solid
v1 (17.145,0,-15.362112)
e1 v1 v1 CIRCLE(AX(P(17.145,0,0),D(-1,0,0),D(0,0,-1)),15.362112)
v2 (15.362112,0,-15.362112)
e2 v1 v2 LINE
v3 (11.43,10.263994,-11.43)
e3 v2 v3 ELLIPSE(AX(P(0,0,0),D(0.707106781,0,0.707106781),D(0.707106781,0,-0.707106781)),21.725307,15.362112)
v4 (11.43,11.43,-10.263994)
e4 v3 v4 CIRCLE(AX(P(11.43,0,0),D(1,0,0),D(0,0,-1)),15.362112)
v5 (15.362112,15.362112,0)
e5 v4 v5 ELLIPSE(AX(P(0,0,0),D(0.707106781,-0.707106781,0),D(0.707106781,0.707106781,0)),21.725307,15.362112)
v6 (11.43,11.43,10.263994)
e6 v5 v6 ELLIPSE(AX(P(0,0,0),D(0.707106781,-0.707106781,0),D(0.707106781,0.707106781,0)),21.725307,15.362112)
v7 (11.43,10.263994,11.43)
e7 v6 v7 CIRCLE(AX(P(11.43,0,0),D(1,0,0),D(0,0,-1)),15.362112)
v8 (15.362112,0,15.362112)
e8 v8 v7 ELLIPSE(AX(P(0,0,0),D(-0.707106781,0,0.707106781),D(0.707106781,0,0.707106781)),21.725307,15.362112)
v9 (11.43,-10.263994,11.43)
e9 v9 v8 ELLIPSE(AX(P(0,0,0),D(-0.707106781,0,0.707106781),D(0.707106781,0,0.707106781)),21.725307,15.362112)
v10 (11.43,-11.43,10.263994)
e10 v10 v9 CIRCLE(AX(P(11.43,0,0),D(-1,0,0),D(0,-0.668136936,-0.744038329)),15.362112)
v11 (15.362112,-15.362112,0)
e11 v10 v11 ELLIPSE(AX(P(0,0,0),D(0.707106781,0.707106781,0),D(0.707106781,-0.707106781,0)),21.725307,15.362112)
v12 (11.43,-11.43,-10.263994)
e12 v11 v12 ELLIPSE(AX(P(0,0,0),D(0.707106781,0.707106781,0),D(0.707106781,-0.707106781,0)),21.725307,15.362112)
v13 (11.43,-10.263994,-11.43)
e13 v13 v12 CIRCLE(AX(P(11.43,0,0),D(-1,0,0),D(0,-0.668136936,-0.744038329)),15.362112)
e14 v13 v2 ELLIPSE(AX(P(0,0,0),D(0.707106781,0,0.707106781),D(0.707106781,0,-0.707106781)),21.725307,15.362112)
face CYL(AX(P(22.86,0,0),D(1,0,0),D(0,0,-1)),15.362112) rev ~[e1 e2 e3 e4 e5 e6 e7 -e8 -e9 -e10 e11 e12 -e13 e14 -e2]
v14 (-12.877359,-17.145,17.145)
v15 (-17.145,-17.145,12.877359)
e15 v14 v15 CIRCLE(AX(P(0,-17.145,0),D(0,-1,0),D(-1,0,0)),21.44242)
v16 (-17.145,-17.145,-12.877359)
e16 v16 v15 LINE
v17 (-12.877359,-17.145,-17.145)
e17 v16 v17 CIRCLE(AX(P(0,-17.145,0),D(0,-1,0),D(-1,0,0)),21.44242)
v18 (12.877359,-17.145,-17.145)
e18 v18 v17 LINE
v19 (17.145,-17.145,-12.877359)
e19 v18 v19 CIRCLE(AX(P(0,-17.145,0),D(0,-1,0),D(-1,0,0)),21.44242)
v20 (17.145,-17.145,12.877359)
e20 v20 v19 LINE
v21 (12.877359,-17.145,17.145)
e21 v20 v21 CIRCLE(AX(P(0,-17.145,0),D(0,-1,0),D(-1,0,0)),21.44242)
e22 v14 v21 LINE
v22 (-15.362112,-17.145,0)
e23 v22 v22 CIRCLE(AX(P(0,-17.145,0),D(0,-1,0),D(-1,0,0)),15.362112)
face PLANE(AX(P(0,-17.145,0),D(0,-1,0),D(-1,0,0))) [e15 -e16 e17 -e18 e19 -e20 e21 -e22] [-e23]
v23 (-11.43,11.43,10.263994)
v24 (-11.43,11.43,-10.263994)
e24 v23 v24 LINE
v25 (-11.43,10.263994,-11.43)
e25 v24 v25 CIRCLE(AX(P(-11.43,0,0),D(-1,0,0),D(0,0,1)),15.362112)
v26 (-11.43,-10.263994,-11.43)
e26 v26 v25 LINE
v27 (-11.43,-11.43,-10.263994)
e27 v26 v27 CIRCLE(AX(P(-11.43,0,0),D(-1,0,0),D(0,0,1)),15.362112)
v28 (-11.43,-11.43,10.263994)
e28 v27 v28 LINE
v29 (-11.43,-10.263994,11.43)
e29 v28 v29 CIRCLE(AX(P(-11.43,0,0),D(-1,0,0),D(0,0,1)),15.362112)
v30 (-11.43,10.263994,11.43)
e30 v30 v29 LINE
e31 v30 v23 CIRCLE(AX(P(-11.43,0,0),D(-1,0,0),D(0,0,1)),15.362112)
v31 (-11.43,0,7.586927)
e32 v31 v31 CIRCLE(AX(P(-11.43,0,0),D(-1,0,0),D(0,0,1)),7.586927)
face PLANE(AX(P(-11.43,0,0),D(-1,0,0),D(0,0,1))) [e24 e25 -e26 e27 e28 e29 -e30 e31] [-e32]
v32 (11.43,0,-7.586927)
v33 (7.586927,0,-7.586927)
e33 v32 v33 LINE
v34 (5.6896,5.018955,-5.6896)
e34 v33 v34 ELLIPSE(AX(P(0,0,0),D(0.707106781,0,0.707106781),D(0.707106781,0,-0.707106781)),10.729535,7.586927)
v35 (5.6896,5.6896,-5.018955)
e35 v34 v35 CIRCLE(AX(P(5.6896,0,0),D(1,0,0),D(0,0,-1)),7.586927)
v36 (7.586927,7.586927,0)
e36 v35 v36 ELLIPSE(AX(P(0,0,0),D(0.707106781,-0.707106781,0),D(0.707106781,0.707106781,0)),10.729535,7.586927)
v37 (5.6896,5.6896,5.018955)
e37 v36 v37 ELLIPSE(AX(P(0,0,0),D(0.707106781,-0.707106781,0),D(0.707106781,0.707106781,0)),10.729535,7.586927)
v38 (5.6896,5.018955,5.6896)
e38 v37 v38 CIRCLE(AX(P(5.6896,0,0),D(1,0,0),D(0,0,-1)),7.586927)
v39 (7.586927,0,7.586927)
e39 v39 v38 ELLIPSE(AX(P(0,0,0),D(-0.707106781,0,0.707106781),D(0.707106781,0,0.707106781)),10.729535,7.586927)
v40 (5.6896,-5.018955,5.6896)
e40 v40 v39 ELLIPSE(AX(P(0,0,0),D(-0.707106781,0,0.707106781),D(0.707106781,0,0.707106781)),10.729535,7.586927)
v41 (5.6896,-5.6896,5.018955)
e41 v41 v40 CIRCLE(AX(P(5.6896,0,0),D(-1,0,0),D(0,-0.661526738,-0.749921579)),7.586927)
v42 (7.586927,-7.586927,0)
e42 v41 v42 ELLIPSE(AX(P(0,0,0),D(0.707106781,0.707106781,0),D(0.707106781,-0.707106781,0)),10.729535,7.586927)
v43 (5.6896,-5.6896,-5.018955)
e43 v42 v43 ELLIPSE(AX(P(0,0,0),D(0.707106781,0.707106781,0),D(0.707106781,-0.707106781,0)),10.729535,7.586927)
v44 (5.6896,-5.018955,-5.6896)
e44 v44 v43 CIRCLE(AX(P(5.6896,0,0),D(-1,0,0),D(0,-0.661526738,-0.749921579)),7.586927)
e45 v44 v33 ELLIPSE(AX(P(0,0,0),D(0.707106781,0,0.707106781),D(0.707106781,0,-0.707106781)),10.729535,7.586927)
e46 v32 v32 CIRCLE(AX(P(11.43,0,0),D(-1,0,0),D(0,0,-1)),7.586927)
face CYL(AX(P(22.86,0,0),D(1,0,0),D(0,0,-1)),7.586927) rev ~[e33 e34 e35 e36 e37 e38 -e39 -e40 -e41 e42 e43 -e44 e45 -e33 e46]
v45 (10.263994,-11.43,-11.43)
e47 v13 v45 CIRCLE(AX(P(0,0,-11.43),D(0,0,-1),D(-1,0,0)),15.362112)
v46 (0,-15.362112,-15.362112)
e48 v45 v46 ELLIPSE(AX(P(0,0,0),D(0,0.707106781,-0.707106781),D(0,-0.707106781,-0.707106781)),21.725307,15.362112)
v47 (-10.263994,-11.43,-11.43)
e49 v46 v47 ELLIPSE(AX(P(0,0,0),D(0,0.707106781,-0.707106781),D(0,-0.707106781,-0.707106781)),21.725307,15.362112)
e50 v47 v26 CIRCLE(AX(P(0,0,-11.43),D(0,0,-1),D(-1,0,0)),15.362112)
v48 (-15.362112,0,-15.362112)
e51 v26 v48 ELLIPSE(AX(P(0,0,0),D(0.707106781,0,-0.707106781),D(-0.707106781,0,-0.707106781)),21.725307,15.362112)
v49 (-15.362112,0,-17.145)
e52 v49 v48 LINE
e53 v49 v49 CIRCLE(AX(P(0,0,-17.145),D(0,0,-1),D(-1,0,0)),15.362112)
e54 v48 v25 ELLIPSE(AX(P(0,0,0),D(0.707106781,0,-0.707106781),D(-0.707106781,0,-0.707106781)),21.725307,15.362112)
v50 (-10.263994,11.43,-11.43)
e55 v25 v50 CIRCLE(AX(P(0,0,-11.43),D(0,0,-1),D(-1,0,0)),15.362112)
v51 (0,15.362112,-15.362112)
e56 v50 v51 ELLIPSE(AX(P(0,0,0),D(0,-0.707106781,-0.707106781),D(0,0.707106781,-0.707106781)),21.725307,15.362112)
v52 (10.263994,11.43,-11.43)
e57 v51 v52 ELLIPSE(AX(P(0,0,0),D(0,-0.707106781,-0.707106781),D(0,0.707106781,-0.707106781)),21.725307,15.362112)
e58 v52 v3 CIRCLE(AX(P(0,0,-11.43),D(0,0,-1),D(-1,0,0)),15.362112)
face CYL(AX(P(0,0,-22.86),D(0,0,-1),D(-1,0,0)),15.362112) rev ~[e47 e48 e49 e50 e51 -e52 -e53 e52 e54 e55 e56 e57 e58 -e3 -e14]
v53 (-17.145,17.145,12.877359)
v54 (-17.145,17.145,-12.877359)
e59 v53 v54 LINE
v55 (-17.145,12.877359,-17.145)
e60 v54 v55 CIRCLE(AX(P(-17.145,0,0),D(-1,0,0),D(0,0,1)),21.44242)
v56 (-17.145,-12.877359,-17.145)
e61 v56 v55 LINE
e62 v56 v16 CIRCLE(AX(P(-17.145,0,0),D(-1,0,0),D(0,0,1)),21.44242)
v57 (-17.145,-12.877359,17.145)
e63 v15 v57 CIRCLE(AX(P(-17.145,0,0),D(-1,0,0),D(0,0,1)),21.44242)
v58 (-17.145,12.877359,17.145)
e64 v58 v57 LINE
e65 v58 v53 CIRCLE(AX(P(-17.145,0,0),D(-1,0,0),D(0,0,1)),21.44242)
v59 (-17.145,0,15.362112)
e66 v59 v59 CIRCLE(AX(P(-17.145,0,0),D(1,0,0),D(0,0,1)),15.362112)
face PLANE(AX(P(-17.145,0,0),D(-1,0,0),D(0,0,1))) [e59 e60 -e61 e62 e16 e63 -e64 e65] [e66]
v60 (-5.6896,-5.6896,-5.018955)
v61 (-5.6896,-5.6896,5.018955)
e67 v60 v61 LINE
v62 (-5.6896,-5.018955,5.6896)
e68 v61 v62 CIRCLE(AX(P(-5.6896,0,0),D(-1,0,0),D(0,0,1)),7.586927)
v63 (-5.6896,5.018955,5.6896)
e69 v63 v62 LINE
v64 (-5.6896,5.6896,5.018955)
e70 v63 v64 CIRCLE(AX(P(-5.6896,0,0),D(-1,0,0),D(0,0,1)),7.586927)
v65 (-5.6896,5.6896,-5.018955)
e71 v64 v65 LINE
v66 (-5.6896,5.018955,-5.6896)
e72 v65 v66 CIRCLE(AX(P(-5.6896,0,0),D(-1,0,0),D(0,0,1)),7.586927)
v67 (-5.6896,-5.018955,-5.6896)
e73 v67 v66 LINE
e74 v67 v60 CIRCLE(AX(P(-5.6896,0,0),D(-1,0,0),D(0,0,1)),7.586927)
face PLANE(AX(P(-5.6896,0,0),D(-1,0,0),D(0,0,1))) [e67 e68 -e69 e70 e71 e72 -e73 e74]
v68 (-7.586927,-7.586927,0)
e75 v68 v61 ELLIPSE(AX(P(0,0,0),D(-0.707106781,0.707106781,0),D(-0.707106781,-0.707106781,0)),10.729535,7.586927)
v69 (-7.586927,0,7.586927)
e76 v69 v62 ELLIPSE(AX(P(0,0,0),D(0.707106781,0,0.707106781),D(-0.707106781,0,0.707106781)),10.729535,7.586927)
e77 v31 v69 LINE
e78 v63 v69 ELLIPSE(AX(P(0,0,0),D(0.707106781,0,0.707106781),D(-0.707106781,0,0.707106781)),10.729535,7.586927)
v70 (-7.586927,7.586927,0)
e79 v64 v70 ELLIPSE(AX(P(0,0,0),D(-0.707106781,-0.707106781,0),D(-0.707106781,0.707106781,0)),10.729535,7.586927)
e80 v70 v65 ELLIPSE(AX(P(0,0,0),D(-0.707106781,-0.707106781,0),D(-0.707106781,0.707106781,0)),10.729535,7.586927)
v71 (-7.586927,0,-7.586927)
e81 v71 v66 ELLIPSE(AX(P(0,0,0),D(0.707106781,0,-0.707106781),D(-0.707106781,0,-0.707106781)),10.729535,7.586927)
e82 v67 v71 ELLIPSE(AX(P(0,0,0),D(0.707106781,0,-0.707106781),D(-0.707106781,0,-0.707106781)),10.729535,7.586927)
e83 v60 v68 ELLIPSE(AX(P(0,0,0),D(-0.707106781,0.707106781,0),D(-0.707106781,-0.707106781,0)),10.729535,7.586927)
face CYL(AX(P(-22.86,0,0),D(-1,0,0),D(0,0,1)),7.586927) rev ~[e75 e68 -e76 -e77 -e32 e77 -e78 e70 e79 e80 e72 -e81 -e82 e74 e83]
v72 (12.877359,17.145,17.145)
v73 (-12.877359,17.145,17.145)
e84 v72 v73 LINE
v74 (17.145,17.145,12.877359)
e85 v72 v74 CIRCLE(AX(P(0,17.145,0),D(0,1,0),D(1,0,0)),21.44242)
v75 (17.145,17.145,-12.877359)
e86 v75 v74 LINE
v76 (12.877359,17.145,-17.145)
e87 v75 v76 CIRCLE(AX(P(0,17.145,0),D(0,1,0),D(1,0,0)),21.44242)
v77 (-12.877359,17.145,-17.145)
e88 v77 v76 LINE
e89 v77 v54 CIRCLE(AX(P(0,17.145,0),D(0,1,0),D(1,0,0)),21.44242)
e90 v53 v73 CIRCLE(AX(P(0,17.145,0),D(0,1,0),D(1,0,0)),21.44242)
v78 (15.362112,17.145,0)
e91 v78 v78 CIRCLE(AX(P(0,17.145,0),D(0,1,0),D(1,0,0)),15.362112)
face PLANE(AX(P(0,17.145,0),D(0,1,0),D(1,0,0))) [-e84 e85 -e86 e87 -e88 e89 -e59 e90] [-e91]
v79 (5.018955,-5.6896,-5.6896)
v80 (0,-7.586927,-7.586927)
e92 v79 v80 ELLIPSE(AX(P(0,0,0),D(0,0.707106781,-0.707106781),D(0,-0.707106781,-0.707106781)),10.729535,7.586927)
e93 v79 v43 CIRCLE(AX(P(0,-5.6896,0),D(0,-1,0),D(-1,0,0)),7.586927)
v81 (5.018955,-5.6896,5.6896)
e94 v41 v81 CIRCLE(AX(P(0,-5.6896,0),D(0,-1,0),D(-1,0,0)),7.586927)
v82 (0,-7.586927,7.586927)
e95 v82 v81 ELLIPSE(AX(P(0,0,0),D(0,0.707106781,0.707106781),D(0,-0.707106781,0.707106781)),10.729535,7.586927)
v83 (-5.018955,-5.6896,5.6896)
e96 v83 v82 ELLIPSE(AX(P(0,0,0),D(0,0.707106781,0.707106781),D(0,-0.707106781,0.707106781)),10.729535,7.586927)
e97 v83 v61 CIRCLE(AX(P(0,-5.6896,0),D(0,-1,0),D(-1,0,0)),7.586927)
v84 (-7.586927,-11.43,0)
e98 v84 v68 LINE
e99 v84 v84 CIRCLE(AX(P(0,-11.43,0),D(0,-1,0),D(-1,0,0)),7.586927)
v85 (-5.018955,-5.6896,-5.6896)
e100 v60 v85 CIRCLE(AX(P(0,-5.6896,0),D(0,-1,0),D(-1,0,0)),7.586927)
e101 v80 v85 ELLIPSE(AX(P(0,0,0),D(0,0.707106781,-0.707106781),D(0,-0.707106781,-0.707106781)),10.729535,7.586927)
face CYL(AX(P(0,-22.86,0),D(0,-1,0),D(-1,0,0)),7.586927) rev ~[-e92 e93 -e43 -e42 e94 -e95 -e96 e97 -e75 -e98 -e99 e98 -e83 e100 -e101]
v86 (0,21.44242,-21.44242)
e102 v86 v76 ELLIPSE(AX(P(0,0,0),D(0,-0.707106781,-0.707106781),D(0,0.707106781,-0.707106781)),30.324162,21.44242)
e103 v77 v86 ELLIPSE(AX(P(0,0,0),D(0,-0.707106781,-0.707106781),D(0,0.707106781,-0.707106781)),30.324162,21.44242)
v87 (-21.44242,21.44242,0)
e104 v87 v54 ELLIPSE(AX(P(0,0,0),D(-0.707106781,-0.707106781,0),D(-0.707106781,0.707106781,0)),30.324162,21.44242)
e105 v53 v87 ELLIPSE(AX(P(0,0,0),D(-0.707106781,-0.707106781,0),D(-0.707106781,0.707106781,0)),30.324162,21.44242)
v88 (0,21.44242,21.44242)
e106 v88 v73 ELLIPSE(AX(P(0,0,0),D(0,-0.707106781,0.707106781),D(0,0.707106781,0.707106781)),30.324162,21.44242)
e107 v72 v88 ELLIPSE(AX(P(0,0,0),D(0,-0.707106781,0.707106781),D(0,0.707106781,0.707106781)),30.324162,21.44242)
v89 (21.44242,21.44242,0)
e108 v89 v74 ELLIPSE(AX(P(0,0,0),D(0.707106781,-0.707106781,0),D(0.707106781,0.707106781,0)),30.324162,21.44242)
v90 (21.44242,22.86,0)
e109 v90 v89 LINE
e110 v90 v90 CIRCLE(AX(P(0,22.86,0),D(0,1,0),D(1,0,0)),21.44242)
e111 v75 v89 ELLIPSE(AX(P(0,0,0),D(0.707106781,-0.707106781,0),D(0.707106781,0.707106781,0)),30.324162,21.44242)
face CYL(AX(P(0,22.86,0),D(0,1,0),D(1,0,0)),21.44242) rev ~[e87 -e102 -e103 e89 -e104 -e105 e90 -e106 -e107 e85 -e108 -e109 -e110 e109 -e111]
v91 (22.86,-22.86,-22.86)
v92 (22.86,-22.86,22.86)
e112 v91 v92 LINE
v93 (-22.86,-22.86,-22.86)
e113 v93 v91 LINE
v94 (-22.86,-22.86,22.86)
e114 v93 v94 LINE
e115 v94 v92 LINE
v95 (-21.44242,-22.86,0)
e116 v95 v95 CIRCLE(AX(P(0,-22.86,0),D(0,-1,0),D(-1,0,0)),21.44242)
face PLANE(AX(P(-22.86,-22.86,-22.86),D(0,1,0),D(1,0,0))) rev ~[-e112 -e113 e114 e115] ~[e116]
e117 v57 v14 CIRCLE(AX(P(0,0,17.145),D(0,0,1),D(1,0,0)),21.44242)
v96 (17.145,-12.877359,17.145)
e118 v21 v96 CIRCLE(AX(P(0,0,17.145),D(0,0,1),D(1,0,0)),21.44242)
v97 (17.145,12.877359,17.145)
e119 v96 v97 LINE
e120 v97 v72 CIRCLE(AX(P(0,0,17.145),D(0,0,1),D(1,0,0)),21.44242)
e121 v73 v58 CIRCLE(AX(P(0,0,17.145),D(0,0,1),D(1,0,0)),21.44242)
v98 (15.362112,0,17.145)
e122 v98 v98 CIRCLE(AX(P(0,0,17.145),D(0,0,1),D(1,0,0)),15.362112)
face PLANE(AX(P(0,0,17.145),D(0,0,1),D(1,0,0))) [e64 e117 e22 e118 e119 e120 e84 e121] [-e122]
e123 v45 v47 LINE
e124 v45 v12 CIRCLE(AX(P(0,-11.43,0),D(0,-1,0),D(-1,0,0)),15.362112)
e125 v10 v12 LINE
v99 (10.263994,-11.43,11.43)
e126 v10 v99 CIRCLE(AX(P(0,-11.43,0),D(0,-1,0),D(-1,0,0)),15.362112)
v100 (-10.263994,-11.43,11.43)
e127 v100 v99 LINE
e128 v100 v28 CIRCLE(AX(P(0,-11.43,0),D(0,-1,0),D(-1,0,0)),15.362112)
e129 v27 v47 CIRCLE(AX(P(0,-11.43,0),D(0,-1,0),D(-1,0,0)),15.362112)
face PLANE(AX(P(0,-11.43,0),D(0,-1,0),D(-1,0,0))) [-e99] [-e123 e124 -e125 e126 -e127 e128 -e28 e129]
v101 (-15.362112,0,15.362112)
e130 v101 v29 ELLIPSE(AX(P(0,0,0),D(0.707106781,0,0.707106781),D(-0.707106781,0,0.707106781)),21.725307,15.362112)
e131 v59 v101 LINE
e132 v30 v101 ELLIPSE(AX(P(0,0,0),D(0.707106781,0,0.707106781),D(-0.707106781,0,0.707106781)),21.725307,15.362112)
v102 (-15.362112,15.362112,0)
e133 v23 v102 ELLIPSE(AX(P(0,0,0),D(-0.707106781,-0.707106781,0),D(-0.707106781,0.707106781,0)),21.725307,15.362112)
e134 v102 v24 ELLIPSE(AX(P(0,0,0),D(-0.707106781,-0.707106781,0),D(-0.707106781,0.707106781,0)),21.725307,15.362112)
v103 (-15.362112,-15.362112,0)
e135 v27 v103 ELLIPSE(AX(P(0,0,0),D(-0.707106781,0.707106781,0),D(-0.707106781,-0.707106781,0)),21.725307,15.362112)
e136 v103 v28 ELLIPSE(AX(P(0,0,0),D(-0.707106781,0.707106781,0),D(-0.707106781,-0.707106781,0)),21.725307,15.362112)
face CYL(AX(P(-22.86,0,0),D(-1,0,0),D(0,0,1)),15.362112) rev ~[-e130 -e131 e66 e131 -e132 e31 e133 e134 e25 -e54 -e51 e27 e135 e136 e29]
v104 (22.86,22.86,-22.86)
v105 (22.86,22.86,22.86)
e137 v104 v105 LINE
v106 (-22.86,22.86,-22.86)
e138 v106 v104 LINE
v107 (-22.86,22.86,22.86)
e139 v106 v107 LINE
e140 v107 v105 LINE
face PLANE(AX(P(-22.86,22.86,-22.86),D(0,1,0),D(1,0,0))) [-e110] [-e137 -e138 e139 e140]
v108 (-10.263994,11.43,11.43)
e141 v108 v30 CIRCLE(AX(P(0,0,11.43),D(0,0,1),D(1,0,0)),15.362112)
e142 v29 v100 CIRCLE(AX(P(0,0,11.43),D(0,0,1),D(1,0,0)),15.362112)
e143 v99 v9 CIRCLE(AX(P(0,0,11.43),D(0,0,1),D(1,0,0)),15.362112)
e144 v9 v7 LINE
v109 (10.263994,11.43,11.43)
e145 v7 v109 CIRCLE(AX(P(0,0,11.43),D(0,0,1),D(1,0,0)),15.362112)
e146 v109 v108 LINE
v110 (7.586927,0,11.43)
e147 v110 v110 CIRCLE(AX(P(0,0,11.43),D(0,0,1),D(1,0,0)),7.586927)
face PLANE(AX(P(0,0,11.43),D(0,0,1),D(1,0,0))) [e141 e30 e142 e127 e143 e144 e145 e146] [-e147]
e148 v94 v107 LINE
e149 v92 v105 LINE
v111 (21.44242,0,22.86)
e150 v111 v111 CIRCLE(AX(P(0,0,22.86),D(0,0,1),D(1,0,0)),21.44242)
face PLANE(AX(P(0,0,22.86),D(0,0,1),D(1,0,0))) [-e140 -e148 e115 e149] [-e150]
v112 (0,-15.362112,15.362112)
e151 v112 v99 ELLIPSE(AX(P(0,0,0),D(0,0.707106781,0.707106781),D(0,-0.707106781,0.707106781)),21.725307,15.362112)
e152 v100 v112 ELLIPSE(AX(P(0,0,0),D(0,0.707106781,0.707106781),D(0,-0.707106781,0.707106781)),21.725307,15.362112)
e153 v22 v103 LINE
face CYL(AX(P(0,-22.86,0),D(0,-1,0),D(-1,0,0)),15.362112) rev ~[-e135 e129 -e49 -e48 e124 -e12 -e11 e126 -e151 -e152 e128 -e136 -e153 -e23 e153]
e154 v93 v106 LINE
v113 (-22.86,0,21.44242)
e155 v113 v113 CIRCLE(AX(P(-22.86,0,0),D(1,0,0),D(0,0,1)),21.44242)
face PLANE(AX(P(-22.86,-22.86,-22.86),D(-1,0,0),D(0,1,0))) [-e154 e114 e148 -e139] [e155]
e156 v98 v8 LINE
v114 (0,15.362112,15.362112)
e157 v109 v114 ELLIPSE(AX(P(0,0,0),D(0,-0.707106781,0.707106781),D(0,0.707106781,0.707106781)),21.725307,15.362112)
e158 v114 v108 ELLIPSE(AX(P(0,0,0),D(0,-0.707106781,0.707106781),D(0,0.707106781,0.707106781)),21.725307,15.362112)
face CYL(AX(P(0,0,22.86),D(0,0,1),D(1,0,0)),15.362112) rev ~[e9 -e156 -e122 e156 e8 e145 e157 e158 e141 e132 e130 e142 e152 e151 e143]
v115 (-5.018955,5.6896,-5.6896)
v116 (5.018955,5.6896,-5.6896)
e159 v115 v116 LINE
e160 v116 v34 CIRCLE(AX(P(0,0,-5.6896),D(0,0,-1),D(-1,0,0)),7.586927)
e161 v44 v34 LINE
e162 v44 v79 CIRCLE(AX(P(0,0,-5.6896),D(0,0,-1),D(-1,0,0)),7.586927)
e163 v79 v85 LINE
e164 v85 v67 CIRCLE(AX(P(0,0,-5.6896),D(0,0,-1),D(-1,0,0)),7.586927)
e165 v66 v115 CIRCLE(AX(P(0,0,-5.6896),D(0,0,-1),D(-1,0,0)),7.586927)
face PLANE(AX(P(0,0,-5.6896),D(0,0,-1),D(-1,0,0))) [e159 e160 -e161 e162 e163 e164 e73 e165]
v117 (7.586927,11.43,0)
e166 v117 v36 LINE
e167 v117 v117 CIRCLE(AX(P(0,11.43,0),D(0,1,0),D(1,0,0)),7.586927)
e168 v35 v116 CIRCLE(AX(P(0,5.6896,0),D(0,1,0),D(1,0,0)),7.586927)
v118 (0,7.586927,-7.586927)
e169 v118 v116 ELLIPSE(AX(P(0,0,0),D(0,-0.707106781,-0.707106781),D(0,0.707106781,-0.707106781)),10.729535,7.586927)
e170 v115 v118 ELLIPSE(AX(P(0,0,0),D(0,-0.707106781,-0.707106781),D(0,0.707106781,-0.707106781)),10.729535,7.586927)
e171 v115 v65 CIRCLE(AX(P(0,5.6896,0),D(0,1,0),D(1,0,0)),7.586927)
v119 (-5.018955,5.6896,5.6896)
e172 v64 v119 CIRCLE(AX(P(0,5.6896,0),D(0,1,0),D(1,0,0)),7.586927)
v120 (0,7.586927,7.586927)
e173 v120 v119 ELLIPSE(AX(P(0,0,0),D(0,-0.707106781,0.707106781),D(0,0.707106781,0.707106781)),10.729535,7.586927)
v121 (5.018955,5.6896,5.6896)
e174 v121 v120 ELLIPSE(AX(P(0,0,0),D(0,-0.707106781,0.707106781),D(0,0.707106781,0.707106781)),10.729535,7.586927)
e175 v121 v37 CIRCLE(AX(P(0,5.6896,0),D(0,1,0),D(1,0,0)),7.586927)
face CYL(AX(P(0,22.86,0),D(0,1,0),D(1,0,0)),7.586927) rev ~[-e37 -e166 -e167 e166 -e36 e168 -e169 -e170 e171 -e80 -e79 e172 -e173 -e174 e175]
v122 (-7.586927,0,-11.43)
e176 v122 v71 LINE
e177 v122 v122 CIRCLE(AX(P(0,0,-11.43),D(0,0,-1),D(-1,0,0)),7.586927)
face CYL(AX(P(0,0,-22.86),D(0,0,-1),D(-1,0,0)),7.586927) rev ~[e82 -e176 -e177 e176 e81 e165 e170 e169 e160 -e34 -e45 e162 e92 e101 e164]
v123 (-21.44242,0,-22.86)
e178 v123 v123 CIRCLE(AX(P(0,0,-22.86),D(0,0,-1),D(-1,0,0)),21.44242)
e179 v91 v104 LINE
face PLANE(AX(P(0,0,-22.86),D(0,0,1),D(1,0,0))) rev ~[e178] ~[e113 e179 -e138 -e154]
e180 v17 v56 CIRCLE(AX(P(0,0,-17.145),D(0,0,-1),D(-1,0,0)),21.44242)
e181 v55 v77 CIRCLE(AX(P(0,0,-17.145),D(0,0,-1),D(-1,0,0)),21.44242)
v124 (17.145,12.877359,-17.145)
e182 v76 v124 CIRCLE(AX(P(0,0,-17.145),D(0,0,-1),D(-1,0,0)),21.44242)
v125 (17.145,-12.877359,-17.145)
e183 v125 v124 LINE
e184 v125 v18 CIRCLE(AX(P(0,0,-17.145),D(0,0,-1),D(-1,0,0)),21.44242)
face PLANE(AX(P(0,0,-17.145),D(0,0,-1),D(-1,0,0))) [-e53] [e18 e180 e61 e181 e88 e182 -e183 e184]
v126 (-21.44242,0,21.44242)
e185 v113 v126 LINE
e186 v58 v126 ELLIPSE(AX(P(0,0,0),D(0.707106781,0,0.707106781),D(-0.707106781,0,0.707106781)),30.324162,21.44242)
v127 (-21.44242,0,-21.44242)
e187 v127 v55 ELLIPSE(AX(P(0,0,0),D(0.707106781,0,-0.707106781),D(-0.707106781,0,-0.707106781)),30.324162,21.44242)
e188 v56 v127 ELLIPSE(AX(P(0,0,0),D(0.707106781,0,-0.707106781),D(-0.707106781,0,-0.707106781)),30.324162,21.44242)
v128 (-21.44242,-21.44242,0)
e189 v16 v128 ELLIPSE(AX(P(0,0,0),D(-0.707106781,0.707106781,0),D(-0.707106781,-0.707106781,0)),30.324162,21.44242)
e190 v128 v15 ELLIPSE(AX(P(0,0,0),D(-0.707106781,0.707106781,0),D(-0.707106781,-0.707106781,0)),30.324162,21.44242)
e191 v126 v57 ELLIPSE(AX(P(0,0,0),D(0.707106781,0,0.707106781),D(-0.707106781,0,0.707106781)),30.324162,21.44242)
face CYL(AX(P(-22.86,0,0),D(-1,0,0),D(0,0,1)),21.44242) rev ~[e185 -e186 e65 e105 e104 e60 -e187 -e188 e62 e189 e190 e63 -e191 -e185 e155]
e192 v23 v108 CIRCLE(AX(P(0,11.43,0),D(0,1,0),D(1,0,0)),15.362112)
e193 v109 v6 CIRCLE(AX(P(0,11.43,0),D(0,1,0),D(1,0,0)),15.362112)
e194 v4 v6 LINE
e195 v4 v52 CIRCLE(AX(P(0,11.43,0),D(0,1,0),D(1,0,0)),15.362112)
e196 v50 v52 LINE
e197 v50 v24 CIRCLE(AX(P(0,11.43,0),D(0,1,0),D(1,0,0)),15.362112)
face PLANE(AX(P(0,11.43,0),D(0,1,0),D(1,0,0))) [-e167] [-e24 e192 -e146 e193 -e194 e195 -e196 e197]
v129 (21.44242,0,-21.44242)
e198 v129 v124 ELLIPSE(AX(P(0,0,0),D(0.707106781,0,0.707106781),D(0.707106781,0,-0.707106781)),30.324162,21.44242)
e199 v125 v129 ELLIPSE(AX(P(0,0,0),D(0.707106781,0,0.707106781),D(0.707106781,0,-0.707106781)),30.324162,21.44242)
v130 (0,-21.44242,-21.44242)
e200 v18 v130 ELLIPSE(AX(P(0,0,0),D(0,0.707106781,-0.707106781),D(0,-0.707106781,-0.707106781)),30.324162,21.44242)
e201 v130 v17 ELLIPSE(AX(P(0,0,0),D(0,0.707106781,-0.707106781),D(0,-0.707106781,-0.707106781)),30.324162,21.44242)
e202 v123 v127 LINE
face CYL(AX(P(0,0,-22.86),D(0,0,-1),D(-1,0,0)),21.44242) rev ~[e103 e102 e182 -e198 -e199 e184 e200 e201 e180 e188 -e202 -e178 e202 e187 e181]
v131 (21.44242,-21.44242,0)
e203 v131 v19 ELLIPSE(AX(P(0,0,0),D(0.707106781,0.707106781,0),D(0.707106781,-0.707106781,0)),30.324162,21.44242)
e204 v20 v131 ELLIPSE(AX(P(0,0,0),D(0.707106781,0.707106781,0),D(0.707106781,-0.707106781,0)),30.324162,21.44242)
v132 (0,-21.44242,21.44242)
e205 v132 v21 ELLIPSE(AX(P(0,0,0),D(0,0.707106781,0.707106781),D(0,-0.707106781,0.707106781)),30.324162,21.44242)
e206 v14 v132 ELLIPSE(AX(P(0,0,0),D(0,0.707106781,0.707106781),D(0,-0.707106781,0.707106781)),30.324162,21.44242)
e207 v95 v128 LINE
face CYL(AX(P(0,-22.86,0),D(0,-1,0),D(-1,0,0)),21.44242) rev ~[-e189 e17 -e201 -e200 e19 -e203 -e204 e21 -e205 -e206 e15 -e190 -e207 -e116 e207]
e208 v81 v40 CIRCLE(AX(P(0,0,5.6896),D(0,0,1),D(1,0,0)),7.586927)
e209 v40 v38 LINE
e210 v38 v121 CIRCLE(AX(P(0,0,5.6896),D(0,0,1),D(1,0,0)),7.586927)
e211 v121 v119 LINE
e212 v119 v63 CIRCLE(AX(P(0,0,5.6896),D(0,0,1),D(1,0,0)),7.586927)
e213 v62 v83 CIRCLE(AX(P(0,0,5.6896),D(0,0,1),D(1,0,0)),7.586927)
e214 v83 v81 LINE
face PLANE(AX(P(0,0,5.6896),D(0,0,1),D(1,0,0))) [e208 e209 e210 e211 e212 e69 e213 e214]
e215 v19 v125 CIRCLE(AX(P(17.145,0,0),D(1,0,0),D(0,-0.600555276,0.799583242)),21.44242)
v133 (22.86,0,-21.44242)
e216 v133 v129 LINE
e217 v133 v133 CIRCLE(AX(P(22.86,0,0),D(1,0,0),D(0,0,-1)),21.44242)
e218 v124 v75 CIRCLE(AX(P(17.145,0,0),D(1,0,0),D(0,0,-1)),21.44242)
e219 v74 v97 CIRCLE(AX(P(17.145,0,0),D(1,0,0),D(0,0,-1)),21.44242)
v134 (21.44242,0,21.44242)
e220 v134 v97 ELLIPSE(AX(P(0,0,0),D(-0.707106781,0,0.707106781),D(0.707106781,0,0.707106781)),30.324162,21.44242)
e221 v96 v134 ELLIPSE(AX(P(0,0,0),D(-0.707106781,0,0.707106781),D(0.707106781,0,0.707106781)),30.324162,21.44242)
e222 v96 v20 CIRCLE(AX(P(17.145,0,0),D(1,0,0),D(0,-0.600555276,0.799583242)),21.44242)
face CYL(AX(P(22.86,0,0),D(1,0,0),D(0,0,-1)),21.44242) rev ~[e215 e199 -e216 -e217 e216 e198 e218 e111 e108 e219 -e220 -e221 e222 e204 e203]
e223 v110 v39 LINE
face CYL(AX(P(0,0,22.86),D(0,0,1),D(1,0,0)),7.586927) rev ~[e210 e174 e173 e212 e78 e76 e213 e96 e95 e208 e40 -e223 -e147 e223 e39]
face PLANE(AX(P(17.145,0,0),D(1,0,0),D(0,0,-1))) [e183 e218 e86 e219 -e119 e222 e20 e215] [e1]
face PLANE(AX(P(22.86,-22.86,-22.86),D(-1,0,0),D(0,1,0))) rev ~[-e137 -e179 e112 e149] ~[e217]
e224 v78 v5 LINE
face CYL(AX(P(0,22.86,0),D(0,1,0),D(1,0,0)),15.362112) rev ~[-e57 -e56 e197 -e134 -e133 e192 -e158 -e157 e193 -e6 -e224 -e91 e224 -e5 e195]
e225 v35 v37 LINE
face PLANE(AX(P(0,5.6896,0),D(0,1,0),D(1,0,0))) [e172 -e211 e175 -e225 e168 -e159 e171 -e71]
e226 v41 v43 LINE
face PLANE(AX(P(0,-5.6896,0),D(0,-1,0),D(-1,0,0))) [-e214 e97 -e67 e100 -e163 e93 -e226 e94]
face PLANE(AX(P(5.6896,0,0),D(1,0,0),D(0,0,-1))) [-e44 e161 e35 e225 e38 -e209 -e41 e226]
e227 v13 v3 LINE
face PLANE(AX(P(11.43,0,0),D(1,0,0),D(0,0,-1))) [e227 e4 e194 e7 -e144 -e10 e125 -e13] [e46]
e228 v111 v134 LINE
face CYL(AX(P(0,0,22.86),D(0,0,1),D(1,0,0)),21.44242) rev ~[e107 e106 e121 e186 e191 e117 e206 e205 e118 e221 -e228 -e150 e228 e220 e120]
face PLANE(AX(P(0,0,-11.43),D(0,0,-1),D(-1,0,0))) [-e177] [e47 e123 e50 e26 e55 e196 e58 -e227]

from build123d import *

# Parameters (mm, degrees)
BOSS_EXTRUDE1_DEPTH          = 22.86
BOSS_EXTRUDE1_DEPTH_BACK     = 22.86
SKETCH1_W                    = 45.72
SKETCH1_H                    = 45.72
SKETCH4_R                    = 7.586926628
CUT_EXTRUDE1_DEPTH           = 17.1704
SKETCH5_R                    = 21.442420376
CUT_EXTRUDE2_DEPTH           = 5.715
SKETCH6_R                    = 15.362111806
CUT_EXTRUDE3_DEPTH           = 11.43
CIRPATTERN1_COUNT            = 4
CIRPATTERN2_COPY_1_SKETCH_R  = 7.586926628
CIRPATTERN2_COPY_1_DEPTH     = 17.1704
CIRPATTERN2_COPY_2_SKETCH_R  = 7.586926628
CIRPATTERN2_COPY_2_DEPTH     = 17.1704
CIRPATTERN2_COPY_3_SKETCH_R  = 7.586926628
CIRPATTERN2_COPY_3_DEPTH     = 17.1704
CIRPATTERN2_COPY_4_SKETCH_R  = 21.442420376
CIRPATTERN2_COPY_4_DEPTH     = 5.715
CIRPATTERN2_COPY_5_SKETCH_R  = 21.442420376
CIRPATTERN2_COPY_5_DEPTH     = 5.715
CIRPATTERN2_COPY_6_SKETCH_R  = 21.442420376
CIRPATTERN2_COPY_6_DEPTH     = 5.715
CIRPATTERN2_COPY_7_SKETCH_R  = 15.362111806
CIRPATTERN2_COPY_7_DEPTH     = 11.43
CIRPATTERN2_COPY_8_SKETCH_R  = 15.362111806
CIRPATTERN2_COPY_8_DEPTH     = 11.43
CIRPATTERN2_COPY_9_SKETCH_R  = 15.362111806
CIRPATTERN2_COPY_9_DEPTH     = 11.43
CIRPATTERN2_COPY_10_SKETCH_R = 7.586926628
CIRPATTERN2_COPY_10_DEPTH    = 17.1704
CIRPATTERN2_COPY_11_SKETCH_R = 21.442420376
CIRPATTERN2_COPY_11_DEPTH    = 5.715
CIRPATTERN2_COPY_12_SKETCH_R = 15.362111806
CIRPATTERN2_COPY_12_DEPTH    = 11.43


with BuildPart() as part:
    # Sketch1 → Boss-Extrude1 (new, two sides: drawn at the far end of the back side and taken through both)
    with BuildSketch(Plane.XY.offset(-BOSS_EXTRUDE1_DEPTH_BACK)):
        Rectangle(SKETCH1_W, SKETCH1_H)
    extrude(amount=BOSS_EXTRUDE1_DEPTH + BOSS_EXTRUDE1_DEPTH_BACK)

    # Sketch4 → Cut-Extrude1 (cut)
    with BuildSketch(Plane.XY.offset(22.86)):
        Circle(SKETCH4_R)
    cut_extrude1 = extrude(amount=-CUT_EXTRUDE1_DEPTH, mode=Mode.SUBTRACT)

    # Sketch5 → Cut-Extrude2 (cut)
    with BuildSketch(Plane.XY.offset(22.86)):
        Circle(SKETCH5_R)
    cut_extrude2 = extrude(amount=-CUT_EXTRUDE2_DEPTH, mode=Mode.SUBTRACT)

    # Sketch6 → Cut-Extrude3 (cut)
    with BuildSketch(Plane.XY.offset(22.86)):
        Circle(SKETCH6_R)
    cut_extrude3 = extrude(amount=-CUT_EXTRUDE3_DEPTH, mode=Mode.SUBTRACT)

    # CirPattern1: Cut-Extrude1, Cut-Extrude2, Cut-Extrude3 ×4 about axis
    cirpattern1_axis = Axis((0, -25.146, 0), (0, 1, 0))
    add([cut_extrude1.rotate(cirpattern1_axis, i * 360 / CIRPATTERN1_COUNT) for i in range(1, CIRPATTERN1_COUNT)], mode=Mode.SUBTRACT)
    add([cut_extrude2.rotate(cirpattern1_axis, i * 360 / CIRPATTERN1_COUNT) for i in range(1, CIRPATTERN1_COUNT)], mode=Mode.SUBTRACT)
    add([cut_extrude3.rotate(cirpattern1_axis, i * 360 / CIRPATTERN1_COUNT) for i in range(1, CIRPATTERN1_COUNT)], mode=Mode.SUBTRACT)

    # CirPattern2 copy 1 sketch → CirPattern2 copy 1 (cut)
    with BuildSketch(Plane(origin=(22.86, 0, 0), x_dir=(0, -1, 0), z_dir=(1, 0, 0))):
        Circle(CIRPATTERN2_COPY_1_SKETCH_R)
    extrude(amount=-CIRPATTERN2_COPY_1_DEPTH, mode=Mode.SUBTRACT)

    # CirPattern2 copy 2 sketch → CirPattern2 copy 2 (cut)
    with BuildSketch(Plane(origin=(0, -22.86, 0), x_dir=(-1, 0, 0), z_dir=(0, -1, 0))):
        Circle(CIRPATTERN2_COPY_2_SKETCH_R)
    extrude(amount=-CIRPATTERN2_COPY_2_DEPTH, mode=Mode.SUBTRACT)

    # CirPattern2 copy 3 sketch → CirPattern2 copy 3 (cut)
    with BuildSketch(Plane(origin=(-22.86, 0, 0), x_dir=(0, 1, 0), z_dir=(-1, 0, 0))):
        Circle(CIRPATTERN2_COPY_3_SKETCH_R)
    extrude(amount=-CIRPATTERN2_COPY_3_DEPTH, mode=Mode.SUBTRACT)

    # CirPattern2 copy 4 sketch → CirPattern2 copy 4 (cut)
    with BuildSketch(Plane(origin=(22.86, 0, 0), x_dir=(0, -1, 0), z_dir=(1, 0, 0))):
        Circle(CIRPATTERN2_COPY_4_SKETCH_R)
    extrude(amount=-CIRPATTERN2_COPY_4_DEPTH, mode=Mode.SUBTRACT)

    # CirPattern2 copy 5 sketch → CirPattern2 copy 5 (cut)
    with BuildSketch(Plane(origin=(0, -22.86, 0), x_dir=(-1, 0, 0), z_dir=(0, -1, 0))):
        Circle(CIRPATTERN2_COPY_5_SKETCH_R)
    extrude(amount=-CIRPATTERN2_COPY_5_DEPTH, mode=Mode.SUBTRACT)

    # CirPattern2 copy 6 sketch → CirPattern2 copy 6 (cut)
    with BuildSketch(Plane(origin=(-22.86, 0, 0), x_dir=(0, 1, 0), z_dir=(-1, 0, 0))):
        Circle(CIRPATTERN2_COPY_6_SKETCH_R)
    extrude(amount=-CIRPATTERN2_COPY_6_DEPTH, mode=Mode.SUBTRACT)

    # CirPattern2 copy 7 sketch → CirPattern2 copy 7 (cut)
    with BuildSketch(Plane(origin=(22.86, 0, 0), x_dir=(0, -1, 0), z_dir=(1, 0, 0))):
        Circle(CIRPATTERN2_COPY_7_SKETCH_R)
    extrude(amount=-CIRPATTERN2_COPY_7_DEPTH, mode=Mode.SUBTRACT)

    # CirPattern2 copy 8 sketch → CirPattern2 copy 8 (cut)
    with BuildSketch(Plane(origin=(0, -22.86, 0), x_dir=(-1, 0, 0), z_dir=(0, -1, 0))):
        Circle(CIRPATTERN2_COPY_8_SKETCH_R)
    extrude(amount=-CIRPATTERN2_COPY_8_DEPTH, mode=Mode.SUBTRACT)

    # CirPattern2 copy 9 sketch → CirPattern2 copy 9 (cut)
    with BuildSketch(Plane(origin=(-22.86, 0, 0), x_dir=(0, 1, 0), z_dir=(-1, 0, 0))):
        Circle(CIRPATTERN2_COPY_9_SKETCH_R)
    extrude(amount=-CIRPATTERN2_COPY_9_DEPTH, mode=Mode.SUBTRACT)

    # CirPattern2 copy 10 sketch → CirPattern2 copy 10 (cut)
    with BuildSketch(Plane(origin=(0, 22.86, 0), x_dir=(1, 0, 0), z_dir=(0, 1, 0))):
        Circle(CIRPATTERN2_COPY_10_SKETCH_R)
    extrude(amount=-CIRPATTERN2_COPY_10_DEPTH, mode=Mode.SUBTRACT)

    # CirPattern2 copy 11 sketch → CirPattern2 copy 11 (cut)
    with BuildSketch(Plane(origin=(0, 22.86, 0), x_dir=(1, 0, 0), z_dir=(0, 1, 0))):
        Circle(CIRPATTERN2_COPY_11_SKETCH_R)
    extrude(amount=-CIRPATTERN2_COPY_11_DEPTH, mode=Mode.SUBTRACT)

    # CirPattern2 copy 12 sketch → CirPattern2 copy 12 (cut)
    with BuildSketch(Plane(origin=(0, 22.86, 0), x_dir=(1, 0, 0), z_dir=(0, 1, 0))):
        Circle(CIRPATTERN2_COPY_12_SKETCH_R)
    extrude(amount=-CIRPATTERN2_COPY_12_DEPTH, mode=Mode.SUBTRACT)


solid = part.part
